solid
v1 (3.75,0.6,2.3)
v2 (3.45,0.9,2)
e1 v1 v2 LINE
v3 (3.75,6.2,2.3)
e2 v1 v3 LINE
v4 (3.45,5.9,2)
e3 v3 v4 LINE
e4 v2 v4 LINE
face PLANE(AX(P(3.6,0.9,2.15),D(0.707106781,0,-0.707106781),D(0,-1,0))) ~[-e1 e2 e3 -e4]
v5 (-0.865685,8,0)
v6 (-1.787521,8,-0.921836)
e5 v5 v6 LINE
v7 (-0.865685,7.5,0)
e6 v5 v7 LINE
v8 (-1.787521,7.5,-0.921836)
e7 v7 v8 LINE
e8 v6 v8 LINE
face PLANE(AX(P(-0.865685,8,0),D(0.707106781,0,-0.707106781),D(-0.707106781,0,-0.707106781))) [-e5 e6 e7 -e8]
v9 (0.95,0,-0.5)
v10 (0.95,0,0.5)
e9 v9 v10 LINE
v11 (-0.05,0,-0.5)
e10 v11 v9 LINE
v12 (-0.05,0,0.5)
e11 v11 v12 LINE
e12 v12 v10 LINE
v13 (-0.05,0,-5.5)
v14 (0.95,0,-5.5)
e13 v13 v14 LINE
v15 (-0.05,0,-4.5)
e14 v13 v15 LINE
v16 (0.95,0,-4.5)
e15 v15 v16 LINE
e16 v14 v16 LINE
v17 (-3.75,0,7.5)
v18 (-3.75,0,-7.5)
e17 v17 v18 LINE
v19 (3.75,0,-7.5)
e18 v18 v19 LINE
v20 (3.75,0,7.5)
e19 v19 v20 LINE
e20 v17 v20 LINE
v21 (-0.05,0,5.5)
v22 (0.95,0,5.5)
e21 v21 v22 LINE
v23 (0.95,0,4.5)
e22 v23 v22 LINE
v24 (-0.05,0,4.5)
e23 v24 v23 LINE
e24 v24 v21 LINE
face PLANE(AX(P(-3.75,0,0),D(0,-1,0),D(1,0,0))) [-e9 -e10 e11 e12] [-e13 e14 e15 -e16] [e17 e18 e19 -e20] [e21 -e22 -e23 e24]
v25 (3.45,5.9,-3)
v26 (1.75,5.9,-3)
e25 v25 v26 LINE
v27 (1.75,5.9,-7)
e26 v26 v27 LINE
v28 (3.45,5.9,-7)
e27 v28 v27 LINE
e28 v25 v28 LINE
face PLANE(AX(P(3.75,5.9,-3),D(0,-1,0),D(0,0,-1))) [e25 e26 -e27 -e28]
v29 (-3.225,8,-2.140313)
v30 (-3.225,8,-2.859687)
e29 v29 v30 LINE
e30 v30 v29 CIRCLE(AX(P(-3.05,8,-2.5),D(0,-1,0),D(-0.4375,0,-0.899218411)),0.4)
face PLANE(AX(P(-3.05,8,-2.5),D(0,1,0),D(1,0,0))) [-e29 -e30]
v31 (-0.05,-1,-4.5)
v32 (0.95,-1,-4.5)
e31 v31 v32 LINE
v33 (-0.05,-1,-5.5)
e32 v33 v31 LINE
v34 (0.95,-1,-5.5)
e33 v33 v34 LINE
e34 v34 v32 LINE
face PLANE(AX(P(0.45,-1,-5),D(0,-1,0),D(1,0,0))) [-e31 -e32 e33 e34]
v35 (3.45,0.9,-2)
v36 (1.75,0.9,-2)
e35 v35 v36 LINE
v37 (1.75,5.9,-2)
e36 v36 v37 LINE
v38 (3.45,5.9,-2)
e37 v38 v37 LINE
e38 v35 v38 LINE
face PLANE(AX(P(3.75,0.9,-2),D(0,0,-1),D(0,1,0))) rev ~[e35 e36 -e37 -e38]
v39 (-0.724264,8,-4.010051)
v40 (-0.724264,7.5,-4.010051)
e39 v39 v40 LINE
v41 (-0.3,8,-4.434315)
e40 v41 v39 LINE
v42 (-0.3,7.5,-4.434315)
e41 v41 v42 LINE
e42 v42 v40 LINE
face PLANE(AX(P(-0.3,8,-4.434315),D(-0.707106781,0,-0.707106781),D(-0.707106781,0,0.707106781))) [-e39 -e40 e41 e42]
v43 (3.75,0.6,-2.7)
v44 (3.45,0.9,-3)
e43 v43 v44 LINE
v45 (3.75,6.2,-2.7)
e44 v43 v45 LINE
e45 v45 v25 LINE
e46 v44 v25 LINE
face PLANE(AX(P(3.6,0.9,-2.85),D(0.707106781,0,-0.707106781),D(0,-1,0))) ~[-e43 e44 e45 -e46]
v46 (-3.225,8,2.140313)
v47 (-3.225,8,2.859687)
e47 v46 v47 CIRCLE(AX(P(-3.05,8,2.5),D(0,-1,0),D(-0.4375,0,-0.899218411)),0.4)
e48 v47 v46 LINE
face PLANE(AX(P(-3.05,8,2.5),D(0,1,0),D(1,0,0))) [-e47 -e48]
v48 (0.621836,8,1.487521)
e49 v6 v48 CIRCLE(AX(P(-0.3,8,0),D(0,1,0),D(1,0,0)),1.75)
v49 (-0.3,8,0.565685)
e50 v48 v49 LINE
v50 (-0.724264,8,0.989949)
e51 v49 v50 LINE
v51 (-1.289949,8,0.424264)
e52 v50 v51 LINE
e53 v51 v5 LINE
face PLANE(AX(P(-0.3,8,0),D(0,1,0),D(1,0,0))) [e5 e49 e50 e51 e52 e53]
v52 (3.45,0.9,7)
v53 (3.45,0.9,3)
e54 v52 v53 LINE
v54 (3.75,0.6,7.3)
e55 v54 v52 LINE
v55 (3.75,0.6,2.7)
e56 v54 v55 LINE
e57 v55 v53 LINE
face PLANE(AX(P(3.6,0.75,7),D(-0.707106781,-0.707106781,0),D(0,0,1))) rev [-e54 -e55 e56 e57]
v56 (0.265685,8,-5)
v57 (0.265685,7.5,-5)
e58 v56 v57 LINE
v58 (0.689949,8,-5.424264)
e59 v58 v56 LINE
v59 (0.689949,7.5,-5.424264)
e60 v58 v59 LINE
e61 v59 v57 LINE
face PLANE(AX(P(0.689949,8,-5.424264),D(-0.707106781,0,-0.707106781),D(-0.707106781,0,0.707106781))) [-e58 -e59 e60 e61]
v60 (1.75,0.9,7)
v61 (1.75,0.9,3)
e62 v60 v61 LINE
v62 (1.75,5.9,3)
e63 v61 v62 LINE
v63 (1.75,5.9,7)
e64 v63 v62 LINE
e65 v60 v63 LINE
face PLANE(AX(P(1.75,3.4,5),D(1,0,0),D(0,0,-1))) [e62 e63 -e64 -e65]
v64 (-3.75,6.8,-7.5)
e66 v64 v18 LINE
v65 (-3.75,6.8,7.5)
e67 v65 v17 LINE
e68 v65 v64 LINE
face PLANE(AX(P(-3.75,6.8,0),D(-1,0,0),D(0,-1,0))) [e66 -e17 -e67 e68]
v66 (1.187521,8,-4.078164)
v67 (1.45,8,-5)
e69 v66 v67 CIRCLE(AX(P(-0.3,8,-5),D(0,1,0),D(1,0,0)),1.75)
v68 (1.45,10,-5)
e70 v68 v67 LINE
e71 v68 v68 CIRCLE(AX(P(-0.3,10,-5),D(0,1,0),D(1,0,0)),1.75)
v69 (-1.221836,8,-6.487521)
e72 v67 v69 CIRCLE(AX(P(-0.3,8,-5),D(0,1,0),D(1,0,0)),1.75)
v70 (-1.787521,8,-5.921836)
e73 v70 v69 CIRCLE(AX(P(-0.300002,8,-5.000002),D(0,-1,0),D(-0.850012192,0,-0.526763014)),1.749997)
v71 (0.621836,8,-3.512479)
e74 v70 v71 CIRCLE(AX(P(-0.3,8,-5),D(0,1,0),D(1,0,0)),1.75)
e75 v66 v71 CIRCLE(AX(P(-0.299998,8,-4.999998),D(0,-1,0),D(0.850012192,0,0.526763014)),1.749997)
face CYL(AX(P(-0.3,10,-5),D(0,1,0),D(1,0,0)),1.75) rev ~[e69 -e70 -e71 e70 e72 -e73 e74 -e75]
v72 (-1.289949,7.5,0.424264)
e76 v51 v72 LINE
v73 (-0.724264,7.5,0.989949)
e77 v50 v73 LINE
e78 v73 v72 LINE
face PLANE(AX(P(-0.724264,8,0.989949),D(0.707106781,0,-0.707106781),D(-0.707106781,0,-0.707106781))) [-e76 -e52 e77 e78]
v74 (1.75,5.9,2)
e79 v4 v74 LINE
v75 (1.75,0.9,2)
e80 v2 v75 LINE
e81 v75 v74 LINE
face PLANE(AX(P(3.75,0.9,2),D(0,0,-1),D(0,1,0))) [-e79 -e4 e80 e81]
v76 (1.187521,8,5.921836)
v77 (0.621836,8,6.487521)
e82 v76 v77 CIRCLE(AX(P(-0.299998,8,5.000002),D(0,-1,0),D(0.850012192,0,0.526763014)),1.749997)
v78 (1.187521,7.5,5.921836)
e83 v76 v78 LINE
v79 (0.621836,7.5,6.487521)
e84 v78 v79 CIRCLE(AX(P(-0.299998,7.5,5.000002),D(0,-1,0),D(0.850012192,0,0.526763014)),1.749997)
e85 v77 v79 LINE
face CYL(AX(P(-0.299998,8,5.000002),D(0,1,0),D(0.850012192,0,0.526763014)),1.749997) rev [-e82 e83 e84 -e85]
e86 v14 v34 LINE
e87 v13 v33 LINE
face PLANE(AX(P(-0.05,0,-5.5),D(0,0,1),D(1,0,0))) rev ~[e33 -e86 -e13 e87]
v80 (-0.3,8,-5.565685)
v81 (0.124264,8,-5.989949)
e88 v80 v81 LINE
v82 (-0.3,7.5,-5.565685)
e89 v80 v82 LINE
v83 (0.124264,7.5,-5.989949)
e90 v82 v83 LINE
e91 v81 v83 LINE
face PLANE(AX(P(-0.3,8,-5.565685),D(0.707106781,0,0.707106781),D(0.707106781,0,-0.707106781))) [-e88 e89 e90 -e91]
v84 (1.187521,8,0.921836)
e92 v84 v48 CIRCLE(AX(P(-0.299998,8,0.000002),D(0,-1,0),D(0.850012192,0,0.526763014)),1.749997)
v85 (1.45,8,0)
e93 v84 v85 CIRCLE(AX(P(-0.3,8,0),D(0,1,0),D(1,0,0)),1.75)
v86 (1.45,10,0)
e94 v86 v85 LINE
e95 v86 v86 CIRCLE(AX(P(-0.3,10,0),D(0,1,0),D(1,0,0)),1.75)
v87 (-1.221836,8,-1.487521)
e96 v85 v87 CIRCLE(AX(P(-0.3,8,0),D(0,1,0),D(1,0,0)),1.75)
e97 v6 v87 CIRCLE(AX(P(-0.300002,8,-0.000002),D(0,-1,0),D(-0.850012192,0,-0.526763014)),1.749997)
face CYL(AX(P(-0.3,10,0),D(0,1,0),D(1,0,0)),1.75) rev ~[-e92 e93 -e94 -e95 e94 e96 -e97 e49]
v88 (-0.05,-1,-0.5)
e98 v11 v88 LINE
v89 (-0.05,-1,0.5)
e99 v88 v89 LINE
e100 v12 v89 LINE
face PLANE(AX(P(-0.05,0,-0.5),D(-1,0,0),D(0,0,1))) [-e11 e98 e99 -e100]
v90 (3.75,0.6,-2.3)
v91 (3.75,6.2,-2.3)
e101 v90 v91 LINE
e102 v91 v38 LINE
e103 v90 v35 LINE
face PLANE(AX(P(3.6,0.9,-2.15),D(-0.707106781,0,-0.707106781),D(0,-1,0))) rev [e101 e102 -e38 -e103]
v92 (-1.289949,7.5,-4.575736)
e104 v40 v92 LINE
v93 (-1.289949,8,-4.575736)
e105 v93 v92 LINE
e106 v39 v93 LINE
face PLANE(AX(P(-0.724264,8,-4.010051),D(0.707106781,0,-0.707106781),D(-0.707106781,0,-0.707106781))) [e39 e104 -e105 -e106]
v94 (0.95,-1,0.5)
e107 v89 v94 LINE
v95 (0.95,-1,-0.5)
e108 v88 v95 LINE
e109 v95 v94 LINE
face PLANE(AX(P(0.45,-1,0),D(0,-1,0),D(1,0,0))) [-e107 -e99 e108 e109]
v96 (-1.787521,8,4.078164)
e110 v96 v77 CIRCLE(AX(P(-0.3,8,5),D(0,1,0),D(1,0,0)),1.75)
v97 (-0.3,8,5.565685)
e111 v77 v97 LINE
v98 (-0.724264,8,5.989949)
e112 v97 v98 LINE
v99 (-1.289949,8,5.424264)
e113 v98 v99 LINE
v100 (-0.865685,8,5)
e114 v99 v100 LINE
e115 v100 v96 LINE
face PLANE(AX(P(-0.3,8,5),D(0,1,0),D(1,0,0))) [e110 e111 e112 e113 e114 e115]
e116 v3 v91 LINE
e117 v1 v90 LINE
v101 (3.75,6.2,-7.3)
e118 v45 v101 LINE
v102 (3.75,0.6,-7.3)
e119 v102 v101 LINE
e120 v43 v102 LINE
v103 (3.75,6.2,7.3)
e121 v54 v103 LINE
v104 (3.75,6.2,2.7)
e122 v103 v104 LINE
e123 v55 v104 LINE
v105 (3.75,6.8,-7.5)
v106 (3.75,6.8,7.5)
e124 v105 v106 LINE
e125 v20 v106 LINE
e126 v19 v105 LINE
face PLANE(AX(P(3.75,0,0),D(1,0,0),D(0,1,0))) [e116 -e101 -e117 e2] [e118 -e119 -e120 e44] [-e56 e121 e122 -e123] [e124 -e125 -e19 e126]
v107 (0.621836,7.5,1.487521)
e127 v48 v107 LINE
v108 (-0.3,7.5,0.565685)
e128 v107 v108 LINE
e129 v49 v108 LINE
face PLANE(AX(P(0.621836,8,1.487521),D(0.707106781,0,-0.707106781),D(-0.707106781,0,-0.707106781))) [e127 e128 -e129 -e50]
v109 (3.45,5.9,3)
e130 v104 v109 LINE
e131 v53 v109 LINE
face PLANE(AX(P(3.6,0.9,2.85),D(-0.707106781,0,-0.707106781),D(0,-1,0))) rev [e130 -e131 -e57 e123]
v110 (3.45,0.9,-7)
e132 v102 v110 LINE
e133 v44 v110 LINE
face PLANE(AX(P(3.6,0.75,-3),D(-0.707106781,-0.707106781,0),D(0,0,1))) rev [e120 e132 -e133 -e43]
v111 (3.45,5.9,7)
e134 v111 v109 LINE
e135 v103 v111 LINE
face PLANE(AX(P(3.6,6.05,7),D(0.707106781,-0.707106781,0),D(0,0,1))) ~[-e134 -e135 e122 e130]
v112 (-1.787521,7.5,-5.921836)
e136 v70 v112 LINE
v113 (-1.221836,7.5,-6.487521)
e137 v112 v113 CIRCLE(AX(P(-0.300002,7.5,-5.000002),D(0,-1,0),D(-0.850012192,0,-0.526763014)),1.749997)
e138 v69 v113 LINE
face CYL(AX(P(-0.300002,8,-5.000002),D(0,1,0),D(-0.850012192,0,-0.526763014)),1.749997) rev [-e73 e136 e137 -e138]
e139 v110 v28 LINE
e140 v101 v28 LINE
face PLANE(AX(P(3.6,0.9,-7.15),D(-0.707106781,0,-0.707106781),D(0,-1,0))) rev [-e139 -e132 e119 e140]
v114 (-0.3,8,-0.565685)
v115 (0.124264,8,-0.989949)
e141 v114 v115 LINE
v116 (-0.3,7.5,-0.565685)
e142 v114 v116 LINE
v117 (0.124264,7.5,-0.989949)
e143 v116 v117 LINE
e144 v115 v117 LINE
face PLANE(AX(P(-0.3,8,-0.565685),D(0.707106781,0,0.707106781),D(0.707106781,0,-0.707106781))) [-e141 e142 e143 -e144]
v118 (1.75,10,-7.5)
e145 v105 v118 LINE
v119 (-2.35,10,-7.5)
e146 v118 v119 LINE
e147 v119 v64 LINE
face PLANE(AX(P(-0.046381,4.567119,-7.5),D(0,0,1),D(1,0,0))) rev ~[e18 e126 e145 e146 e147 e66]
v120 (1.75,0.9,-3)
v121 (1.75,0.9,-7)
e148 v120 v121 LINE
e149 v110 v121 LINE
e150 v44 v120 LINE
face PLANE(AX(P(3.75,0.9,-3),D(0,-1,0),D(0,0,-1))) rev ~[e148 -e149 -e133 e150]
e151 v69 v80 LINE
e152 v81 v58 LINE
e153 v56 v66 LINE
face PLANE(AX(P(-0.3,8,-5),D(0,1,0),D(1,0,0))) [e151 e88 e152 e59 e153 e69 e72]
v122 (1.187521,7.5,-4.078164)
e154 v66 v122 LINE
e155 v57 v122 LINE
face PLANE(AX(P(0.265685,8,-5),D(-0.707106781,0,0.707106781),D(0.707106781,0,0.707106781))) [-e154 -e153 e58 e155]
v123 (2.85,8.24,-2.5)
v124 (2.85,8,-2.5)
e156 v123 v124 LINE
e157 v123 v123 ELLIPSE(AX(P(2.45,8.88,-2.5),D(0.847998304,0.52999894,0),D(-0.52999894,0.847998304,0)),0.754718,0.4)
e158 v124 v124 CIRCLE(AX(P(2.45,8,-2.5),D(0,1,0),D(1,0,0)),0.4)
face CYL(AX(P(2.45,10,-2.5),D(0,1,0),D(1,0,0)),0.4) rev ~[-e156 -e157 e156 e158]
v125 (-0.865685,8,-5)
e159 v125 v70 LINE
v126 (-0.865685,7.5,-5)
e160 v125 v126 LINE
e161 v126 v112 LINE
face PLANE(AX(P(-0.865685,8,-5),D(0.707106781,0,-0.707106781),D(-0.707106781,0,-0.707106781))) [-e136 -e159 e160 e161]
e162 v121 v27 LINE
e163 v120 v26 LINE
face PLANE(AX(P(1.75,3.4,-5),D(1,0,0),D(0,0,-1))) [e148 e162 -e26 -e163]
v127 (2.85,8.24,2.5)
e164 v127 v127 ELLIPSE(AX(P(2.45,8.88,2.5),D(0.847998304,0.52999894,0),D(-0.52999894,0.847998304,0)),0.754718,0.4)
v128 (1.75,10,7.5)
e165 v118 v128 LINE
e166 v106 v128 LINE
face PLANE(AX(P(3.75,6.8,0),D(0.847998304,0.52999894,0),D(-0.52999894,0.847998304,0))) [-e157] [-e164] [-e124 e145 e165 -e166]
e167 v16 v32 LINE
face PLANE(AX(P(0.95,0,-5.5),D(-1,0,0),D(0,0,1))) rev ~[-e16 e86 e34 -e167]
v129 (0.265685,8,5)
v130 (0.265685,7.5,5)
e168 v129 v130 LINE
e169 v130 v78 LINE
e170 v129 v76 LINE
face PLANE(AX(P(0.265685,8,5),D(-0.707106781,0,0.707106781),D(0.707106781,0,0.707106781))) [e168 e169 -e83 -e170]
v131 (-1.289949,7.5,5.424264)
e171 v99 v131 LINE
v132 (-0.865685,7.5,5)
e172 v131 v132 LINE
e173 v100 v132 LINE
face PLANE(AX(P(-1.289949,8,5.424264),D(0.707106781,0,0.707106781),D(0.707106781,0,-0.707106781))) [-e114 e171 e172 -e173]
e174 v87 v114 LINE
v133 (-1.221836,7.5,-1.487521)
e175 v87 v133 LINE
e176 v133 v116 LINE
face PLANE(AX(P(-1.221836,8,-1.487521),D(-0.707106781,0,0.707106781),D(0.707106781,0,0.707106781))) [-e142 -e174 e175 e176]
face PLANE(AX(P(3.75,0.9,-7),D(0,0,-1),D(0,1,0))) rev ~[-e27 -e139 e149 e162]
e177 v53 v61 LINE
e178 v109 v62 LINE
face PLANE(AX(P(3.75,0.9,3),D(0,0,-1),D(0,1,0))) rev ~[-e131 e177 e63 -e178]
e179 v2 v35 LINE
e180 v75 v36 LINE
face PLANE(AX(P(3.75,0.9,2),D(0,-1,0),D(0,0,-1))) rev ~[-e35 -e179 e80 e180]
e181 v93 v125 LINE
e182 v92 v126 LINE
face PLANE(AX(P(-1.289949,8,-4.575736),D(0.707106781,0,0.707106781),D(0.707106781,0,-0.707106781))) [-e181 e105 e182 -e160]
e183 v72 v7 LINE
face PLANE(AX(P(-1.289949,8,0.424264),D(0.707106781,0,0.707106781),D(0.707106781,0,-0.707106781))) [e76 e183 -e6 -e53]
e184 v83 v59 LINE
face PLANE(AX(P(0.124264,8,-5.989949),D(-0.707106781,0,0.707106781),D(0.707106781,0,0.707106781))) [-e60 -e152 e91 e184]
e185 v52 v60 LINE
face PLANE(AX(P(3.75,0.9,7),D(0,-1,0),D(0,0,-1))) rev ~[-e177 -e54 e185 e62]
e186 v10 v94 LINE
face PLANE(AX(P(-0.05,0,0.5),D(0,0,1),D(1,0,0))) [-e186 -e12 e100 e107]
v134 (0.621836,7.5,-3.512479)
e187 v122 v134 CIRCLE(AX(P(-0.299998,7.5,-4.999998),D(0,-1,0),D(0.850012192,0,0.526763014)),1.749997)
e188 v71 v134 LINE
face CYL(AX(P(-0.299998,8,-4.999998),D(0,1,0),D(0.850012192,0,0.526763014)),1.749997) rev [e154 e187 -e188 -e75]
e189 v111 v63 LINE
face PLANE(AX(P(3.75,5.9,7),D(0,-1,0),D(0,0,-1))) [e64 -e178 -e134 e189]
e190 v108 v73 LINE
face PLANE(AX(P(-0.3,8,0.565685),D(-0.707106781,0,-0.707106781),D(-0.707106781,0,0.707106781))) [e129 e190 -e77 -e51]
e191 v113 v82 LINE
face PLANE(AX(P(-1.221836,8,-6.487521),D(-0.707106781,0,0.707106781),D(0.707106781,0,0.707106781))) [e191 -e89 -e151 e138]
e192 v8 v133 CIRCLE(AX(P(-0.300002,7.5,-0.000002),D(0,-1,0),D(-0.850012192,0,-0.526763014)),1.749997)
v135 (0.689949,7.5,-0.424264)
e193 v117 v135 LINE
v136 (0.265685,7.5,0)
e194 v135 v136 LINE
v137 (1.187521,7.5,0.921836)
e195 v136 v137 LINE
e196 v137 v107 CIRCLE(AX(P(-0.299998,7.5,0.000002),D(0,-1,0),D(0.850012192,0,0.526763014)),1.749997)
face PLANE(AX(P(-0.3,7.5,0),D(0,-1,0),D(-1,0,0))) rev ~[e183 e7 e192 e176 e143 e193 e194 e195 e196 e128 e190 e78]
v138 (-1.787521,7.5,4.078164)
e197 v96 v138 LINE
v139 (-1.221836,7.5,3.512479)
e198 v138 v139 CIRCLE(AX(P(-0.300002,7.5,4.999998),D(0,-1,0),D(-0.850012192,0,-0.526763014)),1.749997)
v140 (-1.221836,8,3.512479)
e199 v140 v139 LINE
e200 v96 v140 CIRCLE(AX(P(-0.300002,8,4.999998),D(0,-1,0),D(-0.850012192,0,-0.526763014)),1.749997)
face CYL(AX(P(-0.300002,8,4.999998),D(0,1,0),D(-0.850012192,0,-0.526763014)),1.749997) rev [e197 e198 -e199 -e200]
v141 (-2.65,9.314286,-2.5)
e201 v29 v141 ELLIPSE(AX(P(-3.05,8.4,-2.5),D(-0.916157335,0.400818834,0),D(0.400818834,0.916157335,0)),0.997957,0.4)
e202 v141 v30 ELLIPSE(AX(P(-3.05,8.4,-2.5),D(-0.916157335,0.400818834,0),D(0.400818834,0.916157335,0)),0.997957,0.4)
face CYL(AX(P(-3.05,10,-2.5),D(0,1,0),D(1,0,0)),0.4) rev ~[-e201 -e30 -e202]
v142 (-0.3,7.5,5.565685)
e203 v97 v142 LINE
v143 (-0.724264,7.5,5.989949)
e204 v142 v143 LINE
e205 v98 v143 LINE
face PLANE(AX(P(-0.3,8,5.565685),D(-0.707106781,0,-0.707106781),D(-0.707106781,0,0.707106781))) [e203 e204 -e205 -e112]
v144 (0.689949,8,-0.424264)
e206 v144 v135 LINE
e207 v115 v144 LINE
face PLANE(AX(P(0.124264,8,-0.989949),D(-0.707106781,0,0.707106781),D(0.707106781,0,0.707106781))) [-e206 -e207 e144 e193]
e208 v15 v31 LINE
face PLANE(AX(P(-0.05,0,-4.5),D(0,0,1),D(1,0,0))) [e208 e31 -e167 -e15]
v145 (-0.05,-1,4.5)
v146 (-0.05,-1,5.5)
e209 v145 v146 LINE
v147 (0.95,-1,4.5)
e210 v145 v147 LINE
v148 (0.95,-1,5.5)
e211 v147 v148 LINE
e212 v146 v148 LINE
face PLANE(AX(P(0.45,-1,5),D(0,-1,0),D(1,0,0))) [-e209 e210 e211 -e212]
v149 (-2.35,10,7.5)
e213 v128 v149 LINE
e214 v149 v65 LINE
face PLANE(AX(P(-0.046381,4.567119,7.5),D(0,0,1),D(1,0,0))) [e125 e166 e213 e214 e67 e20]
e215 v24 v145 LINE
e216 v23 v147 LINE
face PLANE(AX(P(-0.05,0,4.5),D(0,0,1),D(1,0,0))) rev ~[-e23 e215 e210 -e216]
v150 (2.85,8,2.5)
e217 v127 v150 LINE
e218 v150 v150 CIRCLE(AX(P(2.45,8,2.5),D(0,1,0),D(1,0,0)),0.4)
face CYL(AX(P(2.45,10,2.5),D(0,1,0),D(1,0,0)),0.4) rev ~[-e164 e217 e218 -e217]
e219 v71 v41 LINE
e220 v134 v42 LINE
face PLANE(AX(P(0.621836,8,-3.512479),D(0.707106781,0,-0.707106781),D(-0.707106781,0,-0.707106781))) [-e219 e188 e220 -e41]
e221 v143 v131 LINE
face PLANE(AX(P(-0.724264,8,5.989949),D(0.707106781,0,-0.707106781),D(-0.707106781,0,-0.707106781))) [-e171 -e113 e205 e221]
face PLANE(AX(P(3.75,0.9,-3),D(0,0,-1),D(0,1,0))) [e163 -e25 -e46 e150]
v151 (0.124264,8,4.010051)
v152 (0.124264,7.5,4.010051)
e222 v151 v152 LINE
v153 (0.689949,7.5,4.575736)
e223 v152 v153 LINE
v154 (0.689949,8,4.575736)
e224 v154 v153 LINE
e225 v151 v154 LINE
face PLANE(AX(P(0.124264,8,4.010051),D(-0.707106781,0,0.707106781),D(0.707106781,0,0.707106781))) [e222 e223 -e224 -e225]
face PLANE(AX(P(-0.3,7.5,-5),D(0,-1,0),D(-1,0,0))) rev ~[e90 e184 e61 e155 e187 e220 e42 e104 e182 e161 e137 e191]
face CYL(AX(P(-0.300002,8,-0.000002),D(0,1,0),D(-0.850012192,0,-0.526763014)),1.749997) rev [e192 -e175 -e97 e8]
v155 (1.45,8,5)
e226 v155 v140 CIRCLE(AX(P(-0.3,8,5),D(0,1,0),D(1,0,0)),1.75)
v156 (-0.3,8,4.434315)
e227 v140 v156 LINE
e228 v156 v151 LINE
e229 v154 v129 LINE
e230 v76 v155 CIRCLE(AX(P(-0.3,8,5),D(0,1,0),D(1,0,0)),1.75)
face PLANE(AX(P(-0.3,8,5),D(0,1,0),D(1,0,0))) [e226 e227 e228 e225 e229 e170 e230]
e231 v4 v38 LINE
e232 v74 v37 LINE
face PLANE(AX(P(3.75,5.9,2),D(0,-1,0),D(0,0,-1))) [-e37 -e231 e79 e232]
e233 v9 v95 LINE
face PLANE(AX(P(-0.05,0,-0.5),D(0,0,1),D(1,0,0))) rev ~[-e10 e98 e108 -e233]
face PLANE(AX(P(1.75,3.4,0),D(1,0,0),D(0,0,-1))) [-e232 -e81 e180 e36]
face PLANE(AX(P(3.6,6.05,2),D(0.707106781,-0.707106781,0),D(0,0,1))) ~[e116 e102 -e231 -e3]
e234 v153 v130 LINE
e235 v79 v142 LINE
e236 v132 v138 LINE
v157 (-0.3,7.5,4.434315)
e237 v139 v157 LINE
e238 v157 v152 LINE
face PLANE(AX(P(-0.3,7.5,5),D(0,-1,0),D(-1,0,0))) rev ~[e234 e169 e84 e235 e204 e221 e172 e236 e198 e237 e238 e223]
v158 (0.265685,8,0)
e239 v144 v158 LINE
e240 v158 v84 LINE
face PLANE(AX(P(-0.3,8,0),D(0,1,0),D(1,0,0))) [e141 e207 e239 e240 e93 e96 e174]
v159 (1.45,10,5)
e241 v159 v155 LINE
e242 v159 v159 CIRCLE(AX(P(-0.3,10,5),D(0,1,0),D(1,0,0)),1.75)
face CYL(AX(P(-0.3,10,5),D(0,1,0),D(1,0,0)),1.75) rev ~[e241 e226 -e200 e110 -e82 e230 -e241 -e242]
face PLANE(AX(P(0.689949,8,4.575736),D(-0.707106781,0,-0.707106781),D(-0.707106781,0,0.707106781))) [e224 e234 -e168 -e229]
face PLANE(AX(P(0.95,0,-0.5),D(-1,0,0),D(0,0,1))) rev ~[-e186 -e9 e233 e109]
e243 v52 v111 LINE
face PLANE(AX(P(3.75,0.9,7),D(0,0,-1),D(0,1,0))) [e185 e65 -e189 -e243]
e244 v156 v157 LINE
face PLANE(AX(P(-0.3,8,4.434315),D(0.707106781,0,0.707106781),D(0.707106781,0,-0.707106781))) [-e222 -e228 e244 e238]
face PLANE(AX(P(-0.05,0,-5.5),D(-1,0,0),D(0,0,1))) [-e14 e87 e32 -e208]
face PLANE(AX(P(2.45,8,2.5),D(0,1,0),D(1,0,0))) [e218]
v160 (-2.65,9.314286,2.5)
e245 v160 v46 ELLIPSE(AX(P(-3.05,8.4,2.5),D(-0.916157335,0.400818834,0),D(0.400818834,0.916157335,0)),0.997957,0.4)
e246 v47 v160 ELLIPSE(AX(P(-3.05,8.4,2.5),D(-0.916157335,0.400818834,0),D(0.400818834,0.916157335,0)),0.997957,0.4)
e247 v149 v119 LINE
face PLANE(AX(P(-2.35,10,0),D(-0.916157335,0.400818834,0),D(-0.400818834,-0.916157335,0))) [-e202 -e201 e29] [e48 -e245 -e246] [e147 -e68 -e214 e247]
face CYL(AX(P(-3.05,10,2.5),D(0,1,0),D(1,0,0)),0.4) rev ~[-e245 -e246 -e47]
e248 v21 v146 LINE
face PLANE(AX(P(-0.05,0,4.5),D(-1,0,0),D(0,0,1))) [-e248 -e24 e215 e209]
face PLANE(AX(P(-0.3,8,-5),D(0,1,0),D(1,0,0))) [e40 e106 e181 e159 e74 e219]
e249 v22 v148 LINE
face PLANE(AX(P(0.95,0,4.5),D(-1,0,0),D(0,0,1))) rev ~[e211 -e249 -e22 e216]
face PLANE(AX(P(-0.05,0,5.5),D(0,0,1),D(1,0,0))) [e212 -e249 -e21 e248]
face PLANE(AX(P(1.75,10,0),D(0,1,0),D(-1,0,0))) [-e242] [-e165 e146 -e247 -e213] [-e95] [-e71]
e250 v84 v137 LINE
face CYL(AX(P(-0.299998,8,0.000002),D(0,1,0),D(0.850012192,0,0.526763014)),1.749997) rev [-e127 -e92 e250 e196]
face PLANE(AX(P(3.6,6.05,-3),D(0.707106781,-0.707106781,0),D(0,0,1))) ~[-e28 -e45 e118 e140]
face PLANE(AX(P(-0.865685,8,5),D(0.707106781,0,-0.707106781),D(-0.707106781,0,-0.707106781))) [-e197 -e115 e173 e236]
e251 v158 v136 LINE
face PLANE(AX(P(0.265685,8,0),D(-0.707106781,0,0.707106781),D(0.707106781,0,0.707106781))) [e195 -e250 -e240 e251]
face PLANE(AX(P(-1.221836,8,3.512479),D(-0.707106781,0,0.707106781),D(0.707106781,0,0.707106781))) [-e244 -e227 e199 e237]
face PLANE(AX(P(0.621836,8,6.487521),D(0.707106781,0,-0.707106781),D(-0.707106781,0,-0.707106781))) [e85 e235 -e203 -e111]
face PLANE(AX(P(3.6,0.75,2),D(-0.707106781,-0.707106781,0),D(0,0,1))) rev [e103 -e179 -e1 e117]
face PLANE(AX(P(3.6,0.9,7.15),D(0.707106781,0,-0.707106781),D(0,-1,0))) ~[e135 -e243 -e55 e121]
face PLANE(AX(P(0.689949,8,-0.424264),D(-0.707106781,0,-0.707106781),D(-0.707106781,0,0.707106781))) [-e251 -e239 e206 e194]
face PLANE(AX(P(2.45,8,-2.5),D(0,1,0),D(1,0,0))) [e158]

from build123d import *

# Parameters (mm, degrees)
BOSS_EXTRUDE1_DEPTH = 7.5
SKETCH2_W           = 1
SKETCH2_H           = 1
BOSS_EXTRUDE2_DEPTH = 1
SKETCH3_W           = 4
SKETCH3_H           = 5
CUT_EXTRUDE1_DEPTH  = 2
SKETCH4_R           = 1.75
SKETCH4_R_2         = 0.4
CUT_EXTRUDE2_DEPTH  = 2
CUT_EXTRUDE3_DEPTH  = 0.5
CHAMFER1_SIZE       = 0.3


with BuildPart() as part:
    # Sketch1 → Boss-Extrude1 (new body, symmetric)
    with BuildSketch(Plane.XY):
        Polygon((-3.75, 0), (3.75, 0), (3.75, 6.8), (1.75, 10), (-2.35, 10), (-3.75, 6.8), align=None)
    extrude(amount=BOSS_EXTRUDE1_DEPTH, both=True)

    # Sketch2 → Boss-Extrude2 (add)
    with BuildSketch(Plane.XZ):
        with Locations((0.45, 5)):
            Rectangle(SKETCH2_W, SKETCH2_H)
        with Locations((0.45, 0)):
            Rectangle(SKETCH2_W, SKETCH2_H)
        with Locations((0.45, -5)):
            Rectangle(SKETCH2_W, SKETCH2_H)
    extrude(amount=BOSS_EXTRUDE2_DEPTH)

    # Sketch3 → Cut-Extrude1 (cut)
    with BuildSketch(Plane(origin=(3.75, 0, 0), x_dir=(0, 0, -1), z_dir=(1, 0, 0))):
        with Locations((-5, 3.4)):
            Rectangle(SKETCH3_W, SKETCH3_H)
        with Locations((0, 3.4)):
            Rectangle(SKETCH3_W, SKETCH3_H)
        with Locations((5, 3.4)):
            Rectangle(SKETCH3_W, SKETCH3_H)
    extrude(amount=-CUT_EXTRUDE1_DEPTH, mode=Mode.SUBTRACT)

    # Sketch4 → Cut-Extrude2 (cut)
    with BuildSketch(Plane(origin=(0, 10, 0), x_dir=(1, 0, 0), z_dir=(0, 1, 0))):
        with Locations((-0.3, 5)):
            Circle(SKETCH4_R)
        with Locations((-0.3, 0)):
            Circle(SKETCH4_R)
        with Locations((-0.3, -5)):
            Circle(SKETCH4_R)
        with Locations((2.45, 2.5)):
            Circle(SKETCH4_R_2)
        with Locations((2.45, -2.5)):
            Circle(SKETCH4_R_2)
        with Locations((-3.05, 2.5)):
            Circle(SKETCH4_R_2)
        with Locations((-3.05, -2.5)):
            Circle(SKETCH4_R_2)
    extrude(amount=-CUT_EXTRUDE2_DEPTH, mode=Mode.SUBTRACT)

    # Sketch5 → Cut-Extrude3 (cut)
    with BuildSketch(Plane(origin=(0, 8, 0), x_dir=(1, 0, 0), z_dir=(0, 1, 0))):
        with BuildLine():
            Line((-1.221836, 1.487521), (-0.3, 0.565685))
            Line((-0.3, 0.565685), (0.124264, 0.989949))
            Line((0.124264, 0.989949), (0.689949, 0.424264))
            Line((0.689949, 0.424264), (0.265685, 0))
            Line((0.265685, 0), (1.187521, -0.921836))
            ThreePointArc((1.187521, -0.921836), (0.937437, -1.237437), (0.621836, -1.487521))
            Line((0.621836, -1.487521), (-0.3, -0.565685))
            Line((-0.3, -0.565685), (-0.724264, -0.989949))
            Line((-0.724264, -0.989949), (-1.289949, -0.424264))
            Line((-1.289949, -0.424264), (-0.865685, 0))
            Line((-0.865685, 0), (-1.787521, 0.921836))
            ThreePointArc((-1.787521, 0.921836), (-1.537437, 1.237437), (-1.221836, 1.487521))
        make_face()
        with BuildLine():
            Line((-1.221836, 6.487521), (-0.3, 5.565685))
            Line((-0.3, 5.565685), (0.124264, 5.989949))
            Line((0.124264, 5.989949), (0.689949, 5.424264))
            Line((0.689949, 5.424264), (0.265685, 5))
            Line((0.265685, 5), (1.187521, 4.078164))
            ThreePointArc((1.187521, 4.078164), (0.937437, 3.762563), (0.621836, 3.512479))
            Line((0.621836, 3.512479), (-0.3, 4.434315))
            Line((-0.3, 4.434315), (-0.724264, 4.010051))
            Line((-0.724264, 4.010051), (-1.289949, 4.575736))
            Line((-1.289949, 4.575736), (-0.865685, 5))
            Line((-0.865685, 5), (-1.787521, 5.921836))
            ThreePointArc((-1.787521, 5.921836), (-1.537437, 6.237437), (-1.221836, 6.487521))
        make_face()
        with BuildLine():
            Line((-1.221836, -3.512479), (-0.3, -4.434315))
            Line((-0.3, -4.434315), (0.124264, -4.010051))
            Line((0.124264, -4.010051), (0.689949, -4.575736))
            Line((0.689949, -4.575736), (0.265685, -5))
            Line((0.265685, -5), (1.187521, -5.921836))
            ThreePointArc((1.187521, -5.921836), (0.937437, -6.237437), (0.621836, -6.487521))
            Line((0.621836, -6.487521), (-0.3, -5.565685))
            Line((-0.3, -5.565685), (-0.724264, -5.989949))
            Line((-0.724264, -5.989949), (-1.289949, -5.424264))
            Line((-1.289949, -5.424264), (-0.865685, -5))
            Line((-0.865685, -5), (-1.787521, -4.078164))
            ThreePointArc((-1.787521, -4.078164), (-1.537437, -3.762563), (-1.221836, -3.512479))
        make_face()
    extrude(amount=-CUT_EXTRUDE3_DEPTH, mode=Mode.SUBTRACT)

    # Chamfer1
    chamfer1_edges = [part.edges().sort_by_distance(p)[0] for p in [
        (3.75, 3.4, 7),
        (3.75, 0.9, 5),
        (3.75, 3.4, 3),
        (3.75, 5.9, 5),
        (3.75, 3.4, 2),
        (3.75, 0.9, 0),
        (3.75, 3.4, -2),
        (3.75, 5.9, 0),
        (3.75, 3.4, -3),
        (3.75, 0.9, -5),
        (3.75, 3.4, -7),
        (3.75, 5.9, -5),
    ]]
    chamfer(chamfer1_edges, length=CHAMFER1_SIZE)


solid = part.part
